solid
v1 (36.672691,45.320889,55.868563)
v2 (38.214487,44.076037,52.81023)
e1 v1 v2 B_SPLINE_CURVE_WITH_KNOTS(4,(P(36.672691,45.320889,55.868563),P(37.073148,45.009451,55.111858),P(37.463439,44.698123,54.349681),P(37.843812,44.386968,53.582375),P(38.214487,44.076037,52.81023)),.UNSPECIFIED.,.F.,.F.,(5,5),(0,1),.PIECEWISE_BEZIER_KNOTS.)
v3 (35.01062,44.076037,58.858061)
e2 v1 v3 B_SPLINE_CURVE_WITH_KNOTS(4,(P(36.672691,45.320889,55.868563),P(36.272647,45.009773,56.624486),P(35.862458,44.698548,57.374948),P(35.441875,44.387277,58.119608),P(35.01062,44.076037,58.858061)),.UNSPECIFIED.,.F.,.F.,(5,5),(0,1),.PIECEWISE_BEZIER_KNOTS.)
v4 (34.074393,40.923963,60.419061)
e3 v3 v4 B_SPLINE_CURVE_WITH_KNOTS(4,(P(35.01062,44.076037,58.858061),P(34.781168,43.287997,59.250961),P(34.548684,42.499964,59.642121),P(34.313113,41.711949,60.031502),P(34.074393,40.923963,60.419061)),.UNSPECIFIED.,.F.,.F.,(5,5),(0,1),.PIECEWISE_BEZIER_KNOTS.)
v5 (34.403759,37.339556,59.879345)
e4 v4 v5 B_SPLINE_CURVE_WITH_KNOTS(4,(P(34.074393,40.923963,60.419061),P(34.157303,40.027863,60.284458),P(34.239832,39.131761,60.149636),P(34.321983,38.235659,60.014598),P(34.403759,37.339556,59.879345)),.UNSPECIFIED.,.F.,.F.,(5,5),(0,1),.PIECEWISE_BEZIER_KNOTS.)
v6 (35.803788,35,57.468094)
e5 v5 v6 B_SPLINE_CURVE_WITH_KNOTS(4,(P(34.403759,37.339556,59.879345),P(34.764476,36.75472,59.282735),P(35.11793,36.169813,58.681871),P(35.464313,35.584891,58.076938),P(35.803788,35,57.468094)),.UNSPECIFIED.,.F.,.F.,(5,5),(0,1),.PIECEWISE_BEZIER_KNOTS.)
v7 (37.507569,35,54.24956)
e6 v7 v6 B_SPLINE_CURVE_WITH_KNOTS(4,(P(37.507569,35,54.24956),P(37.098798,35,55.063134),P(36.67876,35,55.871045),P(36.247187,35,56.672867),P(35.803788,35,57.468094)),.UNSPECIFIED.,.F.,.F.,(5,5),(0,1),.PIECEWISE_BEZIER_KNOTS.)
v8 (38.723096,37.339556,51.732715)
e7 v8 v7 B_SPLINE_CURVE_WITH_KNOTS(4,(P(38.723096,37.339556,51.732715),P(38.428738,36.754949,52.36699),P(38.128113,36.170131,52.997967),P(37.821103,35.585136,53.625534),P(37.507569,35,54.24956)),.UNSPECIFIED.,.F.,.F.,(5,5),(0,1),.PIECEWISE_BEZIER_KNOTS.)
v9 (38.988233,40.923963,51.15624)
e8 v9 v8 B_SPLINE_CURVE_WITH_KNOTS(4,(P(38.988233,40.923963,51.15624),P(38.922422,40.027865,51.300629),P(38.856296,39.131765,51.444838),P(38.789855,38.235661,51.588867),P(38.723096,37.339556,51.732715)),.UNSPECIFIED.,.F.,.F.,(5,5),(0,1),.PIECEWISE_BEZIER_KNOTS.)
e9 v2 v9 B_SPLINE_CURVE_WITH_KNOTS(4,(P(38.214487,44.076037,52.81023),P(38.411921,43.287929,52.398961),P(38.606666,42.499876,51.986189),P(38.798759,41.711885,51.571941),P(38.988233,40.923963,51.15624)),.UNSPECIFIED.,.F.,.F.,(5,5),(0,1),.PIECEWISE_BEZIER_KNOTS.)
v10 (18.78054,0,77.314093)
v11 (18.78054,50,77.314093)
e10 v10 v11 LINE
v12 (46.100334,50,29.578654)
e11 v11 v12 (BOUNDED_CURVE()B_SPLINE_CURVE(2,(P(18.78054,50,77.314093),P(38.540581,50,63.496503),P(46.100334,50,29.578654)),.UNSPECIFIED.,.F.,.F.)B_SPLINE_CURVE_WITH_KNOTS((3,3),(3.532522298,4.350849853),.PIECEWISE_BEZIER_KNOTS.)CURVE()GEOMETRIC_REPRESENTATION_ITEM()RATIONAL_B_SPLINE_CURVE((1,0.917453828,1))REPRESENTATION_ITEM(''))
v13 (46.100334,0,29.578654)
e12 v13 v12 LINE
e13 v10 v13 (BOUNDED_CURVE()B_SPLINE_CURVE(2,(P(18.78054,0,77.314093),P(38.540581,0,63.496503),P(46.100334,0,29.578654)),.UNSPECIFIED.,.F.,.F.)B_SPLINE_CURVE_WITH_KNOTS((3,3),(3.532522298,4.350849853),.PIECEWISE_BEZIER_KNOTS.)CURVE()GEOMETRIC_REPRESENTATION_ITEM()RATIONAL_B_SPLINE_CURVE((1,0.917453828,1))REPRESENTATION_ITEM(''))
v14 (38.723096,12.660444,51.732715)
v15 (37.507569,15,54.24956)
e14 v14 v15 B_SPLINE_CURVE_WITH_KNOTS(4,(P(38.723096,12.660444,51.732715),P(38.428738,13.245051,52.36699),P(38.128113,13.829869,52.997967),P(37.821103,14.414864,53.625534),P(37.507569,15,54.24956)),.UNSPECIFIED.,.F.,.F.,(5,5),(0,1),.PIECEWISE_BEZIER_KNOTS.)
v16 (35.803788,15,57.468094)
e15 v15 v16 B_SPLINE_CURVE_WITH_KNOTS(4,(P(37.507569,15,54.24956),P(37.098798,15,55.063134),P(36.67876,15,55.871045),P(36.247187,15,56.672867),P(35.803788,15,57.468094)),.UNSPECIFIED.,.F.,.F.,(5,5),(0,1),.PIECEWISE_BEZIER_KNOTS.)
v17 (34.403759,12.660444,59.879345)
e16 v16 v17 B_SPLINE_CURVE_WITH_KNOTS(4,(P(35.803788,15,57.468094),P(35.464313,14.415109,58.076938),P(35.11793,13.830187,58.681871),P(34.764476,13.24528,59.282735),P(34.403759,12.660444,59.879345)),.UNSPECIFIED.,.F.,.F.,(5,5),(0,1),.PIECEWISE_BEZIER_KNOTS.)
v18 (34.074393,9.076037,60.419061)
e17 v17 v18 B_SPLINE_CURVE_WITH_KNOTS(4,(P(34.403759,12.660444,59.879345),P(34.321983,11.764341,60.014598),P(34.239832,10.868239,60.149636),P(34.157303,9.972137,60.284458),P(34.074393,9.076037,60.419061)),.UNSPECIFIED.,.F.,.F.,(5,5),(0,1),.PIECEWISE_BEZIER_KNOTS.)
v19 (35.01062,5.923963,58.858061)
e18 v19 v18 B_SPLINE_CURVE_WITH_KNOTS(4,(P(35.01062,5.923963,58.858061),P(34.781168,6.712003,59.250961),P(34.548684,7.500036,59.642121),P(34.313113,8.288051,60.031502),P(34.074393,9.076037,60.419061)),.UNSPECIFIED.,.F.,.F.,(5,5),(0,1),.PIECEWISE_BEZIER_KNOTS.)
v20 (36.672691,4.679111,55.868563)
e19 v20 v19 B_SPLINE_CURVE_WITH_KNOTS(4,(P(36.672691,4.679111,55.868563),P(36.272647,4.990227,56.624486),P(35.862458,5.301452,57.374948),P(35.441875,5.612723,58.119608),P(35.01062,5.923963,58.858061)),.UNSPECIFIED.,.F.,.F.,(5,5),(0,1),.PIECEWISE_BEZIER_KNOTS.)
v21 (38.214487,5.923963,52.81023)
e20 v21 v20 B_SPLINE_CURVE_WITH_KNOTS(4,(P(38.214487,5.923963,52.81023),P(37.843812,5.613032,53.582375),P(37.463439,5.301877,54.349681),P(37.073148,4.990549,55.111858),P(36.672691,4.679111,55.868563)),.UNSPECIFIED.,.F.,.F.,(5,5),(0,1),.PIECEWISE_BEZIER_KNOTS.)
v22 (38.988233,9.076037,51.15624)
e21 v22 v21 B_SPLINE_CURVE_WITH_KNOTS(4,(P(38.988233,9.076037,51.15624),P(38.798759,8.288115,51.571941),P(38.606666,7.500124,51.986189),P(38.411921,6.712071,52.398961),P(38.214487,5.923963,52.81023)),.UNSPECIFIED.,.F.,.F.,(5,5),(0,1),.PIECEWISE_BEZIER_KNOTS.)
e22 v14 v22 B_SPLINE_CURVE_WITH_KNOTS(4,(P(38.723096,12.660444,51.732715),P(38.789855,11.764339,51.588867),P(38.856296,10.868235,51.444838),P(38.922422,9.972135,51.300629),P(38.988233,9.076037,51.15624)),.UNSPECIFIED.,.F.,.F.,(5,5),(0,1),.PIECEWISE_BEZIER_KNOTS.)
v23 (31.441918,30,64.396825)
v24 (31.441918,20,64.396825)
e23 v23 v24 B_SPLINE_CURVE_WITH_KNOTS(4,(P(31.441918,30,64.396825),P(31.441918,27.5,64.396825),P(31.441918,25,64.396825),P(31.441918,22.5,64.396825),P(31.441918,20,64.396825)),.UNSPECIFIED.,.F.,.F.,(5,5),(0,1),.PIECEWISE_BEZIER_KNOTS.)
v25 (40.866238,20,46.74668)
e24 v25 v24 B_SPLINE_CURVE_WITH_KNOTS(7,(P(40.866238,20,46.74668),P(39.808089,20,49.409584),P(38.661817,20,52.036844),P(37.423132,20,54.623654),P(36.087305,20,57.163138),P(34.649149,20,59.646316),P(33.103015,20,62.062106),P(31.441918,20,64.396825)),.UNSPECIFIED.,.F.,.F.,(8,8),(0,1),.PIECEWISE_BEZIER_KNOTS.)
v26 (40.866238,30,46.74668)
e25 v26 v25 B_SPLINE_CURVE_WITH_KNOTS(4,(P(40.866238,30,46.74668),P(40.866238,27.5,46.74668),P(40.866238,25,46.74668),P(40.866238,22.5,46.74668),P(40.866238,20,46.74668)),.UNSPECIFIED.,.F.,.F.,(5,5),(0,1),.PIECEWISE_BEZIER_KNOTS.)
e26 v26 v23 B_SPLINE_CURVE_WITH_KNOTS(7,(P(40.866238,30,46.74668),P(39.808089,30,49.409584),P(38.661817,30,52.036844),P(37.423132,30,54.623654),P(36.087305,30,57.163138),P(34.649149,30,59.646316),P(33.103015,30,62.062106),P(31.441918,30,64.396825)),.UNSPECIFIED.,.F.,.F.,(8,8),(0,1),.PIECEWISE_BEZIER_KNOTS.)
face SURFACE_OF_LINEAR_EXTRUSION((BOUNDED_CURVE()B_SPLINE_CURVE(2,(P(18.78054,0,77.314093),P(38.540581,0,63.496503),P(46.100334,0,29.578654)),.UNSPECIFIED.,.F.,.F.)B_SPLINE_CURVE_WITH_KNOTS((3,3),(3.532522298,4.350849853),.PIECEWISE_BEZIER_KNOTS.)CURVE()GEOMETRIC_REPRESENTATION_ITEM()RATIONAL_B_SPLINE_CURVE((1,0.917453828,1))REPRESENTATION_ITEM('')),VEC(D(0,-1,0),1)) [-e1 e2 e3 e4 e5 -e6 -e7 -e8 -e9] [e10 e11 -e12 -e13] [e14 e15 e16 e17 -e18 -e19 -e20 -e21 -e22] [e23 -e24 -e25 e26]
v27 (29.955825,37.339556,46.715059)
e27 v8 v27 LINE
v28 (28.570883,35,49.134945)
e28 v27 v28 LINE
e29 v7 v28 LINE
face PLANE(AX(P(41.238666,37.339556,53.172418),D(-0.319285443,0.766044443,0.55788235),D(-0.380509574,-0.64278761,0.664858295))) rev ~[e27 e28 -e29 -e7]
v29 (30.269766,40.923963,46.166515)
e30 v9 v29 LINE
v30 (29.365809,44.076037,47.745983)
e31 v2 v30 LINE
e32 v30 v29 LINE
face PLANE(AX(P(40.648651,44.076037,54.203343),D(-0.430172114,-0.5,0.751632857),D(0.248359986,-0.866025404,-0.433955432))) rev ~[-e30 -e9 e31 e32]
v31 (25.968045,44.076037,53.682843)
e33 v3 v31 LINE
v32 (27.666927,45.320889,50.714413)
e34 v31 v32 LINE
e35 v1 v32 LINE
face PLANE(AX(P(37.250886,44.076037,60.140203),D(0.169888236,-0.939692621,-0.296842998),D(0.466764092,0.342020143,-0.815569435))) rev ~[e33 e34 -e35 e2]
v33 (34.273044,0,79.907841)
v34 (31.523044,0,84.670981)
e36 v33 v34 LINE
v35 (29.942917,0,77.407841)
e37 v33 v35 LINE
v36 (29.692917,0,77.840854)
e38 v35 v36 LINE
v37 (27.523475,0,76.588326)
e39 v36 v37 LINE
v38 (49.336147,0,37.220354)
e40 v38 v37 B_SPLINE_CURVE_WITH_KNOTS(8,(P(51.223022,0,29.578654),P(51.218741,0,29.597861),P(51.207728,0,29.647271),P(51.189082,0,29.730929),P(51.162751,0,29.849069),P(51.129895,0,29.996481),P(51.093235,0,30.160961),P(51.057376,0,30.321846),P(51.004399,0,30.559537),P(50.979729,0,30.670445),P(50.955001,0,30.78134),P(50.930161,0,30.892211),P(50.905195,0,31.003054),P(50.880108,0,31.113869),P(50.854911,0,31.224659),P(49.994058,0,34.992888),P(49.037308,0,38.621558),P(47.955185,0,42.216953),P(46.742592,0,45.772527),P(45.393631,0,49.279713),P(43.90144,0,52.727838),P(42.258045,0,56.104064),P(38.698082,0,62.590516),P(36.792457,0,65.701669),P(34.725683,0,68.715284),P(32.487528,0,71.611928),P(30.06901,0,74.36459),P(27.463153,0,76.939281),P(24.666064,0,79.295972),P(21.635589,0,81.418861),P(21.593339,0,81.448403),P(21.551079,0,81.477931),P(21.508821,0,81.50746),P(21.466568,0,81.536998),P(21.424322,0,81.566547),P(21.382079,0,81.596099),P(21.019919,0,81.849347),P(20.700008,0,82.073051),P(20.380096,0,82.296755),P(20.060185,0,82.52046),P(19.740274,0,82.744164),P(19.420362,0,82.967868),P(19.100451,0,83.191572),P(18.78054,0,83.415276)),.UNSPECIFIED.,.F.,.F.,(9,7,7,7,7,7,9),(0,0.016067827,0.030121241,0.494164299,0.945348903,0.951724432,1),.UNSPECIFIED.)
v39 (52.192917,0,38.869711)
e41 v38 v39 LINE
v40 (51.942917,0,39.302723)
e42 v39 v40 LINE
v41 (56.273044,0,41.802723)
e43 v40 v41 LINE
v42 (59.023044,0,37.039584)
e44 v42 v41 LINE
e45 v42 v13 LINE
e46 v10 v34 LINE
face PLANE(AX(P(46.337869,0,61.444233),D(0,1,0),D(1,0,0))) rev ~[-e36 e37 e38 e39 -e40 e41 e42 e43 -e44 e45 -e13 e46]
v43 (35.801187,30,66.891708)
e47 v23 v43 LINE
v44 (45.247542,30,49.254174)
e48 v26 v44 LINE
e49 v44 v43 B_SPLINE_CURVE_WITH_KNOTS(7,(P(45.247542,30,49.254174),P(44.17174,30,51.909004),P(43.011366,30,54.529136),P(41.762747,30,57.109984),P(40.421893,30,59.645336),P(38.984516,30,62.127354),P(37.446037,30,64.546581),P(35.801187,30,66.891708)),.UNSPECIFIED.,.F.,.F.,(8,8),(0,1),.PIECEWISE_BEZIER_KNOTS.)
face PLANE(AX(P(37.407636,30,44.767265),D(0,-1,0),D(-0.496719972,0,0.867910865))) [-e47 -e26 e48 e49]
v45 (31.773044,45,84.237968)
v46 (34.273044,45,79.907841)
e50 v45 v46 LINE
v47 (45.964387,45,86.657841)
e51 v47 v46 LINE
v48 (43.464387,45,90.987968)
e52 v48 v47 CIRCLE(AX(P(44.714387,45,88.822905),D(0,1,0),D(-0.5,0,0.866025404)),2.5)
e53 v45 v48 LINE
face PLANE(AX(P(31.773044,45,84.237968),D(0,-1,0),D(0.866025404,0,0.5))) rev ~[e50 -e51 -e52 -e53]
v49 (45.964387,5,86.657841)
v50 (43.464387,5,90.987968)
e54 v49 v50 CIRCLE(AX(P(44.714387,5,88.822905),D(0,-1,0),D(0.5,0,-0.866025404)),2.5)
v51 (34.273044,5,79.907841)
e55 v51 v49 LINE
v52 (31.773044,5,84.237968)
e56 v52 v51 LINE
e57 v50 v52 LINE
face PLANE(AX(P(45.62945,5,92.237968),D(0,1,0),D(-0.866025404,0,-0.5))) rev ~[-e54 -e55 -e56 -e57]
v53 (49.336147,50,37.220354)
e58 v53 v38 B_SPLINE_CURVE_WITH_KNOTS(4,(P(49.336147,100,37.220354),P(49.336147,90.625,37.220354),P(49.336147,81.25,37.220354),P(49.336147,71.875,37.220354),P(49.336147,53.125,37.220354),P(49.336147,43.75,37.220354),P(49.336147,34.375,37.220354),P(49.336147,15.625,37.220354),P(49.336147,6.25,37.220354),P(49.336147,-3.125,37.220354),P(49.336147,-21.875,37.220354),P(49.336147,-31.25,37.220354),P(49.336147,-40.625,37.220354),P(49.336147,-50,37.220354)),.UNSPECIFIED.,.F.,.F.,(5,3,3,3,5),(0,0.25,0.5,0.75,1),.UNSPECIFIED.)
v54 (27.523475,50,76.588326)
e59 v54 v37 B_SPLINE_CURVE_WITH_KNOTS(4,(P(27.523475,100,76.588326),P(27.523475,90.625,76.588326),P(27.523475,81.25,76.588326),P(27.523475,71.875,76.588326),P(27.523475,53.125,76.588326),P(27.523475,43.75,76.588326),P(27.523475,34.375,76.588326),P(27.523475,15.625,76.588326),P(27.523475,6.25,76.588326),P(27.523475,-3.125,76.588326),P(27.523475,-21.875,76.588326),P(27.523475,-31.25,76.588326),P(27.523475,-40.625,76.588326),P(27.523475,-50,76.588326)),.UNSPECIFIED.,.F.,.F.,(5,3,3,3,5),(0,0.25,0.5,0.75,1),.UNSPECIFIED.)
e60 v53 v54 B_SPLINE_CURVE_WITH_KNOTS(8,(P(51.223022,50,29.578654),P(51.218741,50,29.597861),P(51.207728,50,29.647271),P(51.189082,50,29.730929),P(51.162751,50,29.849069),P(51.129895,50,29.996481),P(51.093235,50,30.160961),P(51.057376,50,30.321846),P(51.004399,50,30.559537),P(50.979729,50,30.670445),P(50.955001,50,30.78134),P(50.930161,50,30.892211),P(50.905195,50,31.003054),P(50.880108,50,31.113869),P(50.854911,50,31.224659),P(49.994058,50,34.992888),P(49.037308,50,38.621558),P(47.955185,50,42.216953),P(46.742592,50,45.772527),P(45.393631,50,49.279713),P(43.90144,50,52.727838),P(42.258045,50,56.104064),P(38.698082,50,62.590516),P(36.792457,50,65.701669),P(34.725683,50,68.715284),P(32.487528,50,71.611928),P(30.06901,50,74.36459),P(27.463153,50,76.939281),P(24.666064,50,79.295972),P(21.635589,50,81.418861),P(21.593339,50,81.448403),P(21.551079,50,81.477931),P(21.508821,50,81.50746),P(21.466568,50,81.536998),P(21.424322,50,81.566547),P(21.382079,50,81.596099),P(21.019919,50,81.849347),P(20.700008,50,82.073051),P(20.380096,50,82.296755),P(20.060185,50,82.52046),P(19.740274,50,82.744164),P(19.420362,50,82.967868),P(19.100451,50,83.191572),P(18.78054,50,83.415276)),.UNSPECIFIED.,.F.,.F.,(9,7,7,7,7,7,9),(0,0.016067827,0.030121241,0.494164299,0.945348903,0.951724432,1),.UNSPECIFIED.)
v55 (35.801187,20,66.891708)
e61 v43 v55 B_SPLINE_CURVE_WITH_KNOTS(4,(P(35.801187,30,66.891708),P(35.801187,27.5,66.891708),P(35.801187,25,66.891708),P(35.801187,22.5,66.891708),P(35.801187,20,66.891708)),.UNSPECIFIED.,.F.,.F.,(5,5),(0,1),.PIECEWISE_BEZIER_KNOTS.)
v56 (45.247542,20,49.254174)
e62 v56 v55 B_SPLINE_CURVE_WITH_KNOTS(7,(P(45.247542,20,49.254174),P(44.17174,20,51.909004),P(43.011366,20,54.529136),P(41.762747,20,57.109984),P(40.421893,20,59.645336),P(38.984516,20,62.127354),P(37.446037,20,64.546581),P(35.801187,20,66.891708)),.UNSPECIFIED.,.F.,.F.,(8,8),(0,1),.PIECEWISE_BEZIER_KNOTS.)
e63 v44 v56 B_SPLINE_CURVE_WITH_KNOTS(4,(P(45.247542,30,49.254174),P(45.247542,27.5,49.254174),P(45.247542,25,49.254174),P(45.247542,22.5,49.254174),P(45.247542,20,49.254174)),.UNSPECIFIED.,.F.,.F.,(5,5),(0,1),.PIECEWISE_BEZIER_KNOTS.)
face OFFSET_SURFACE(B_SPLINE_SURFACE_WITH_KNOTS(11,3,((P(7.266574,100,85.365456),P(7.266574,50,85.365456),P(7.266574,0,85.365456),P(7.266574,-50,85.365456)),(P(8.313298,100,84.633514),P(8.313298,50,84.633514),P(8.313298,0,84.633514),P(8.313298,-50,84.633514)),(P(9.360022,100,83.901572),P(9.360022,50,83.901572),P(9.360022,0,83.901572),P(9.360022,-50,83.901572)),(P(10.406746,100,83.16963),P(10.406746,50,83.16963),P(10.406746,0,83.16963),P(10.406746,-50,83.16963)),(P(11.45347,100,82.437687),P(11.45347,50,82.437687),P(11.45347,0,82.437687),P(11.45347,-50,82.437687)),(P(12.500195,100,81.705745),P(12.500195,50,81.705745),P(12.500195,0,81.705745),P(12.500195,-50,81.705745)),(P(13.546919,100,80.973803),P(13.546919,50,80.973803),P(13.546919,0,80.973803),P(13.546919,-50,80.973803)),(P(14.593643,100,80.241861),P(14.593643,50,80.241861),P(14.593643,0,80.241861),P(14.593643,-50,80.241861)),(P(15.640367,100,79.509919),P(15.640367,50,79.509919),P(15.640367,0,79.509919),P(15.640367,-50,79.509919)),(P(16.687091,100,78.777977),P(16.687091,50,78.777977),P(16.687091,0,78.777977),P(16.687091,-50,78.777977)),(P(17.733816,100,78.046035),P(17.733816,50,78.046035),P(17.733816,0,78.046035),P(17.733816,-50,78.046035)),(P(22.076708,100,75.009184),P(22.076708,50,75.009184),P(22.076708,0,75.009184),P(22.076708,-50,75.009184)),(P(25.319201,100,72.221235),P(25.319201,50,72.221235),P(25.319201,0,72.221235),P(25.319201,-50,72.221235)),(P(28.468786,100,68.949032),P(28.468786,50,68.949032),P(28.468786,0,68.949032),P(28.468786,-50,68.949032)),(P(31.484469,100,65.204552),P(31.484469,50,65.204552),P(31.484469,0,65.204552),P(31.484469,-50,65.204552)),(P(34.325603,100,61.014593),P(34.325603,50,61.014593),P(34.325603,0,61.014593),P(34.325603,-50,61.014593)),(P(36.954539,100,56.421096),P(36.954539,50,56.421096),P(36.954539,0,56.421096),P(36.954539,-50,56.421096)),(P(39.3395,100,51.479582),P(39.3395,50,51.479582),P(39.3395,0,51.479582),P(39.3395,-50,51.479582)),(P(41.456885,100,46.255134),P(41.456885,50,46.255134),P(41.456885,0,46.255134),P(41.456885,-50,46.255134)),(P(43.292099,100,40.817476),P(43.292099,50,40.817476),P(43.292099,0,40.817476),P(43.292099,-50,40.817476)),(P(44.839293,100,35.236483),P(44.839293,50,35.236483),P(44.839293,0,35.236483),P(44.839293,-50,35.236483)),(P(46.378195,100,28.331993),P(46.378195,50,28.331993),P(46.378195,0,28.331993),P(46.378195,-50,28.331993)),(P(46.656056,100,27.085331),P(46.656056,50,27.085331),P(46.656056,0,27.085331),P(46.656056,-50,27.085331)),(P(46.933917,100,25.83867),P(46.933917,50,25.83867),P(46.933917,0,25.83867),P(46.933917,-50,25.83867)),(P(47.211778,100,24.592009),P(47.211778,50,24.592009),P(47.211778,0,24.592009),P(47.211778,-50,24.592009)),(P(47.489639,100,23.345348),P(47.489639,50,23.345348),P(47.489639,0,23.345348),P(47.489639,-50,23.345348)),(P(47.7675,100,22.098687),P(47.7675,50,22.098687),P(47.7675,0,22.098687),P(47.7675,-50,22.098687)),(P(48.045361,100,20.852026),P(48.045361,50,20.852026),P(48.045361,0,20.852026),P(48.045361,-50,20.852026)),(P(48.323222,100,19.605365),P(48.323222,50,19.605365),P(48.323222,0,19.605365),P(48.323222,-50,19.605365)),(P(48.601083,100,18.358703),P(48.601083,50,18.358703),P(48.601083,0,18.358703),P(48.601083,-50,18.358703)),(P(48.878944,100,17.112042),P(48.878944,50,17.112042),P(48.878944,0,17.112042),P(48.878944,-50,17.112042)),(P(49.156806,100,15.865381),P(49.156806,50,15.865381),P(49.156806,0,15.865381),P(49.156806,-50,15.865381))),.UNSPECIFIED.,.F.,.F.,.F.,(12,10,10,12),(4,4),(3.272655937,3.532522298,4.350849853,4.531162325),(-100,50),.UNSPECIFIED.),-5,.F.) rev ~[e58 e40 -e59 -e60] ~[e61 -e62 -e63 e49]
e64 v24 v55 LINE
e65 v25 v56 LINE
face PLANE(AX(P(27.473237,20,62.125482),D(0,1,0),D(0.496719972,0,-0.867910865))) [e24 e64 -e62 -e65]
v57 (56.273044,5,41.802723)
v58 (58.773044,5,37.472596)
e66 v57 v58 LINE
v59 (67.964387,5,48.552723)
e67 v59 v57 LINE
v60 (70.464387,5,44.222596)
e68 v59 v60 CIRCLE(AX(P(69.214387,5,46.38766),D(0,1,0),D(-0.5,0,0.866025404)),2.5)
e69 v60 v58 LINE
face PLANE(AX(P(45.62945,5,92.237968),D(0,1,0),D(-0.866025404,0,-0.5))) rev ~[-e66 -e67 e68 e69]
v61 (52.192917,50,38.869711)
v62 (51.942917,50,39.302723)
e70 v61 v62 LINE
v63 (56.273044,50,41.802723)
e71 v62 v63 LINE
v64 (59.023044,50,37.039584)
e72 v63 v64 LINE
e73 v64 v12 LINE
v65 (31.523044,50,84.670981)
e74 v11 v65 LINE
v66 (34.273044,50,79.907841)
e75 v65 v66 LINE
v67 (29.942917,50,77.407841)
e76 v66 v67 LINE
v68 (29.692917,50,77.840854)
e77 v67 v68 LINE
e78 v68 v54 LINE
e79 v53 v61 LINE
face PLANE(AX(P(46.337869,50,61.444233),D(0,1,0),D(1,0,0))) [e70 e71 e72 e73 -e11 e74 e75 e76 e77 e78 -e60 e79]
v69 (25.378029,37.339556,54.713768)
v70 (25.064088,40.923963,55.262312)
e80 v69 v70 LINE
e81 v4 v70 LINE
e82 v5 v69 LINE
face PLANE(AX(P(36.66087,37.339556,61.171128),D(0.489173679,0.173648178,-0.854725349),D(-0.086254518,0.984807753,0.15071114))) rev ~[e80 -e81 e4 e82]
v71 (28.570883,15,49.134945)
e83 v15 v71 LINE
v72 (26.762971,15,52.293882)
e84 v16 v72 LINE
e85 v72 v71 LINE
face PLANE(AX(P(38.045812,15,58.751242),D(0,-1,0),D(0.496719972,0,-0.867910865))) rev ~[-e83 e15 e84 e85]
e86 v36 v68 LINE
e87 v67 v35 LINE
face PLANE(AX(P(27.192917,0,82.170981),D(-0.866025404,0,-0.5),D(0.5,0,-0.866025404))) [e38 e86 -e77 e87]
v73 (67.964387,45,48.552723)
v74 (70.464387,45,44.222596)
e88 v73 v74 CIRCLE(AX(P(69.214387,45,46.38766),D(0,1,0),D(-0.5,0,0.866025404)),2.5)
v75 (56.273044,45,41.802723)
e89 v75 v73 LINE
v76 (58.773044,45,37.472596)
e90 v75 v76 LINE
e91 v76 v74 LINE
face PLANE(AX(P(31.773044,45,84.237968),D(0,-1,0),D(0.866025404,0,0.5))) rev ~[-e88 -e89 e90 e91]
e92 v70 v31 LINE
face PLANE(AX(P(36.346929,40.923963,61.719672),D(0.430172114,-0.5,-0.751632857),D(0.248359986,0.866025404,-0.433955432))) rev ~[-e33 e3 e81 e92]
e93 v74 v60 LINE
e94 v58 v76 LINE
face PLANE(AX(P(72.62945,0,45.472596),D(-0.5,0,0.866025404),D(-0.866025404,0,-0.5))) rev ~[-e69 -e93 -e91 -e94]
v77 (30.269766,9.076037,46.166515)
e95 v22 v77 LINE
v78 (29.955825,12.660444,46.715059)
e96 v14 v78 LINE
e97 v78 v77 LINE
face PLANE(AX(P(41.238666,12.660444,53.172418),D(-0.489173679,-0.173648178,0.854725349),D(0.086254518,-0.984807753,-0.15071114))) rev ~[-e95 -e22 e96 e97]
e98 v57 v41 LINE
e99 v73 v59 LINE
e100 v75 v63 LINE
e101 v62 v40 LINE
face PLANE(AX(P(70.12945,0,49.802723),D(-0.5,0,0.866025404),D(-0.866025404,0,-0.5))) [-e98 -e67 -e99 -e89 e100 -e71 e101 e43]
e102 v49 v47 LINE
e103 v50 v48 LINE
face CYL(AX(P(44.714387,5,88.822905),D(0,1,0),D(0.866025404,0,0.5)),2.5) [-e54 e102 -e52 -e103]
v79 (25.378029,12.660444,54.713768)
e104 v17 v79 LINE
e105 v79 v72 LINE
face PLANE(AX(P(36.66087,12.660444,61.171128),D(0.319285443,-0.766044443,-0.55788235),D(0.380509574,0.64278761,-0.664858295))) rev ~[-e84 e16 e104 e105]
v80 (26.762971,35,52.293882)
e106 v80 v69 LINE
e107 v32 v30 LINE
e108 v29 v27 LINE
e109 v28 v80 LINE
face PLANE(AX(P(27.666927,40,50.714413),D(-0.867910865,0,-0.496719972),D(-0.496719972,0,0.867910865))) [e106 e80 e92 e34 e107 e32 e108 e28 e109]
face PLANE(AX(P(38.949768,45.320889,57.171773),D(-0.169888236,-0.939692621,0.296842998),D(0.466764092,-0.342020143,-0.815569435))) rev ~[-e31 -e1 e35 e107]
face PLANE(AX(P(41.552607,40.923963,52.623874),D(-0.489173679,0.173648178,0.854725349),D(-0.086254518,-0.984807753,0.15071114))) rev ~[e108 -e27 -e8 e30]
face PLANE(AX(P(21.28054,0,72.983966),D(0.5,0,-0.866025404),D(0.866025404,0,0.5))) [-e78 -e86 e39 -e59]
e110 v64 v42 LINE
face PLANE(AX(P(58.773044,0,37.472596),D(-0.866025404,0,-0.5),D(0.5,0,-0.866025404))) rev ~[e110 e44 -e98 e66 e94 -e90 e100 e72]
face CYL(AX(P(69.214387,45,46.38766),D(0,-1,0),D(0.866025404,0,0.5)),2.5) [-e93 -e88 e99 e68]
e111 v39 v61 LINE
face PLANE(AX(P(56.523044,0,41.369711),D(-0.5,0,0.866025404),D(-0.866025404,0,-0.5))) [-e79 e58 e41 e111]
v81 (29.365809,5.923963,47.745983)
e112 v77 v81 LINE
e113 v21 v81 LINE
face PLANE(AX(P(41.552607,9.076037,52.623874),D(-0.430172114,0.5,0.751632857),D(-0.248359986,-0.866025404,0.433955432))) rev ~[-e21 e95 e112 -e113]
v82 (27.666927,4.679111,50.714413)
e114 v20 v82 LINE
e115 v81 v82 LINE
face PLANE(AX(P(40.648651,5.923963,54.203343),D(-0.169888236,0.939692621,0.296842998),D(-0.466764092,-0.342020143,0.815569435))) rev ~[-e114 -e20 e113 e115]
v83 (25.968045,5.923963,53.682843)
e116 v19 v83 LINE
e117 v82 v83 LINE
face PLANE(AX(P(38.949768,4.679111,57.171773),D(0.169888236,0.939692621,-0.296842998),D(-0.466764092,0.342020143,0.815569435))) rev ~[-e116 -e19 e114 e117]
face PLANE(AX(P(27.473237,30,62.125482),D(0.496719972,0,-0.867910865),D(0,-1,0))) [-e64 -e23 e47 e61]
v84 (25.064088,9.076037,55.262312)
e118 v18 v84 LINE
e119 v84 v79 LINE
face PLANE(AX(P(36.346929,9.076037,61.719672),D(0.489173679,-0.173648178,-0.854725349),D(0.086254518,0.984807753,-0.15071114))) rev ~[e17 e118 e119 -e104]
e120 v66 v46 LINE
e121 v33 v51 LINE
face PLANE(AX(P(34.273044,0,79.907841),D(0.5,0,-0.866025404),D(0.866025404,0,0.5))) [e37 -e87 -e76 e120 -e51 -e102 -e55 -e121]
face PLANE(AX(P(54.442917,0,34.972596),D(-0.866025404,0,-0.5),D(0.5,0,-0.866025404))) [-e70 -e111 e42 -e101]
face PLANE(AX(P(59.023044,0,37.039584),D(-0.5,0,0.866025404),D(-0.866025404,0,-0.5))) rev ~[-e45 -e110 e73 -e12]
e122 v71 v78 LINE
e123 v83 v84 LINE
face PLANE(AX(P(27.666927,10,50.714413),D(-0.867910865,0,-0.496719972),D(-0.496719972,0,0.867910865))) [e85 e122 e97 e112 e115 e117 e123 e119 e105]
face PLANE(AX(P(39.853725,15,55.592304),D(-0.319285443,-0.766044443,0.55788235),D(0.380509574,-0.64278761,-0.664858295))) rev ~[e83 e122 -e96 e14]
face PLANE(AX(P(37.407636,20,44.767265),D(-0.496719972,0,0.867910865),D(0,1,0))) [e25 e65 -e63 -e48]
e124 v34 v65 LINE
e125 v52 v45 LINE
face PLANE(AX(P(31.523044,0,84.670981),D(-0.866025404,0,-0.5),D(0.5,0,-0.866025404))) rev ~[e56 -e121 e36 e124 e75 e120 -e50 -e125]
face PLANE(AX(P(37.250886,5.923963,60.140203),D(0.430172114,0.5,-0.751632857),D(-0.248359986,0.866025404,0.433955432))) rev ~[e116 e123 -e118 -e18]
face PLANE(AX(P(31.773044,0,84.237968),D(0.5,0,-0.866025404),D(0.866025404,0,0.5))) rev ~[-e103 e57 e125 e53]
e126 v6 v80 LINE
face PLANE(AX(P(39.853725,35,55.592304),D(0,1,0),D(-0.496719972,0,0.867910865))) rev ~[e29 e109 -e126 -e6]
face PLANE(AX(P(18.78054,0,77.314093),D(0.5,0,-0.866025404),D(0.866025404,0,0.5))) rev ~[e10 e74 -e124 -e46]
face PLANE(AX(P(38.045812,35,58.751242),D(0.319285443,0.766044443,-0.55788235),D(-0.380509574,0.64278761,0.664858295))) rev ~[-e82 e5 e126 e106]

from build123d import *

# Parameters (mm, degrees)
BOSS_EXTRUDE1_DEPTH      = 50
SHELL1_T                 = -5
BOSS_EXTRUDE2_DEPTH      = 5.500000000000001
BOSS_EXTRUDE2_DEPTH_BACK = 7.5
CUT_EXTRUDE1_DEPTH       = 10
SKETCH5_W                = 16
SKETCH5_H                = 5
CUT_EXTRUDE2_DEPTH       = 121.69448930041943
FILLET2_RADIUS           = 2.5
FILLET2_LENGTH           = 40
FILLET3_RADIUS           = 2.5
FILLET3_LENGTH           = 40


with BuildPart() as part:
    # Sketch2 → Boss-Extrude1 (new body)
    with BuildSketch(Plane(origin=(0, 0, 0), x_dir=(1, 0, 0), z_dir=(0, 1, 0))):
        with BuildLine():
            Line((18.78053977456615, -77.31409286467196), (23.042995642351375, -79.77502290734665))
            Line((23.042995642351375, -79.77502290734665), (31.523043656078794, -84.67098091081314))
            Line((31.523043656078794, -84.67098091081314), (31.773043656078798, -84.23796820892092))
            Line((31.773043656078798, -84.23796820892092), (45.62945011662982, -92.23796820892092))
            Line((45.62945011662982, -92.23796820892092), (72.62945011662983, -45.4725964045612))
            Line((72.62945011662983, -45.4725964045612), (58.773043656078805, -37.472596404561216))
            Line((58.773043656078805, -37.472596404561216), (59.0230436560788, -37.039583702669006))
            Line((59.0230436560788, -37.039583702669006), (50.362789618234416, -32.03958370266901))
            Line((50.362789618234416, -32.03958370266901), (46.10033375044919, -29.578653659994334))
            add(Edge.make_bspline(
                [(18.78053977456615, -77.31409286467196), (38.540581097928744, -63.49650278099066), (46.10033375044919, -29.578653659994334)],
                knots=[3.5325222979989195, 3.5325222979989195, 3.5325222979989195, 4.350849853477907, 4.350849853477907, 4.350849853477907], degree=2, weights=[1, 0.9174538281146124, 1]))
        make_face()
    extrude(amount=BOSS_EXTRUDE1_DEPTH)

    # Shell1
    shell1_openings = [part.faces().sort_by_distance(p)[0] for p in [
        (47.213884273, 50, 61.782899624),
        (47.213884273, 0, 61.782899624),
        (59.129450117, 25, 68.855282307),
    ]]
    offset(amount=SHELL1_T, openings=shell1_openings, kind=Kind.INTERSECTION)

    # Sketch3 → Boss-Extrude2 (add, two sides: drawn at the far end of the back side and taken through both)
    with BuildSketch(Plane(origin=(47.47757848615084, 0, 27.172215953725974), x_dir=(-0.4967199718961618, 0, 0.8679108649622244), z_dir=(-0.8679108649622244, 0, -0.4967199718961618)).offset(-BOSS_EXTRUDE2_DEPTH_BACK)):
        Polygon((25.664850284699074, 37.339555568810255), (28.453024038902463, 35.000000000000014), (32.09272638156445, 35.000000000000014), (34.8809001357678, 37.339555568810226), (35.51292781482111, 40.92396265452046), (33.69307664349011, 44.07603734547951), (30.272875210233437, 45.320888862379554), (26.852673776976776, 44.07603734547953), (25.03282260564577, 40.923962654520494), align=None)
        Polygon((33.69307664349011, 5.923962654520468), (35.51292781482114, 9.07603734547954), (34.880900135767824, 12.660444431189784), (32.09272638156446, 15.000000000000004), (28.453024038902413, 15.000000000000004), (25.664850284699046, 12.660444431189786), (25.032822605645727, 9.07603734547953), (26.852673776976744, 5.9239626545204755), (30.272875210233433, 4.679111137620436), align=None)
    extrude(amount=BOSS_EXTRUDE2_DEPTH + BOSS_EXTRUDE2_DEPTH_BACK)

    # Sketch4 → Cut-Extrude1 (cut)
    with BuildSketch(Plane(origin=(47.47757848615084, 0, 27.172215953725974), x_dir=(-0.4967199718961618, 0, 0.8679108649622244), z_dir=(-0.8679108649622244, 0, -0.4967199718961618))):
        Polygon((40.272875210233444, 19.999999999999996), (20.27287521023344, 19.999999999999993), (20.27287521023344, 30), (40.272875210233444, 30.000000000000007), align=None)
    extrude(amount=-CUT_EXTRUDE1_DEPTH, mode=Mode.SUBTRACT)

    # Sketch5 → Cut-Extrude2 (cut, through all)
    with BuildSketch(Plane(origin=(-28.532849302036027, 0, 49.420344675832624), x_dir=(0.8660254037844389, 0, 0.49999999999999967), z_dir=(-0.49999999999999967, 0, 0.8660254037844389))):
        with Locations((77.63524706617667, 47.50000000000001)):
            Rectangle(SKETCH5_W, SKETCH5_H)
        Polygon((69.63524706617666, 0), (85.63524706617667, 0), (85.63524706617667, 5), (69.63524706617667, 4.999999999999997), align=None)
    extrude(amount=-CUT_EXTRUDE2_DEPTH, mode=Mode.SUBTRACT)

    # Fillet2: full round fillet: the end face becomes a half cylinder, R = half its width
    fillet2_face = Plane((46.879450117, 25, 90.072904699), x_dir=(0, 1, 0), z_dir=(0.866025403784, 0, 0.5))  # on the end face: x along it, z out of the body
    fillet2_slab = fillet2_face.offset(-FILLET2_RADIUS / 2) * Box(FILLET2_LENGTH, 2 * FILLET2_RADIUS, FILLET2_RADIUS, mode=Mode.PRIVATE)  # the body's end, R deep
    fillet2_round = Plane((44.71438660754, 25, 88.822904699), x_dir=(0.866025403784, 0, 0.5), z_dir=(0, 1, 0)) * Cylinder(FILLET2_RADIUS, FILLET2_LENGTH, mode=Mode.PRIVATE)  # its axis R under the face
    add(fillet2_slab - fillet2_round, mode=Mode.SUBTRACT)

    # Fillet3: full round fillet: the end face becomes a half cylinder, R = half its width
    fillet3_face = Plane((71.379450117, 25, 47.637659914), x_dir=(0, -1, 0), z_dir=(0.866025403784, 0, 0.5))  # on the end face: x along it, z out of the body
    fillet3_slab = fillet3_face.offset(-FILLET3_RADIUS / 2) * Box(FILLET3_LENGTH, 2 * FILLET3_RADIUS, FILLET3_RADIUS, mode=Mode.PRIVATE)  # the body's end, R deep
    fillet3_round = Plane((69.21438660754, 25, 46.387659914), x_dir=(0.866025403784, 0, 0.5), z_dir=(0, -1, 0)) * Cylinder(FILLET3_RADIUS, FILLET3_LENGTH, mode=Mode.PRIVATE)  # its axis R under the face
    add(fillet3_slab - fillet3_round, mode=Mode.SUBTRACT)


solid = part.part
